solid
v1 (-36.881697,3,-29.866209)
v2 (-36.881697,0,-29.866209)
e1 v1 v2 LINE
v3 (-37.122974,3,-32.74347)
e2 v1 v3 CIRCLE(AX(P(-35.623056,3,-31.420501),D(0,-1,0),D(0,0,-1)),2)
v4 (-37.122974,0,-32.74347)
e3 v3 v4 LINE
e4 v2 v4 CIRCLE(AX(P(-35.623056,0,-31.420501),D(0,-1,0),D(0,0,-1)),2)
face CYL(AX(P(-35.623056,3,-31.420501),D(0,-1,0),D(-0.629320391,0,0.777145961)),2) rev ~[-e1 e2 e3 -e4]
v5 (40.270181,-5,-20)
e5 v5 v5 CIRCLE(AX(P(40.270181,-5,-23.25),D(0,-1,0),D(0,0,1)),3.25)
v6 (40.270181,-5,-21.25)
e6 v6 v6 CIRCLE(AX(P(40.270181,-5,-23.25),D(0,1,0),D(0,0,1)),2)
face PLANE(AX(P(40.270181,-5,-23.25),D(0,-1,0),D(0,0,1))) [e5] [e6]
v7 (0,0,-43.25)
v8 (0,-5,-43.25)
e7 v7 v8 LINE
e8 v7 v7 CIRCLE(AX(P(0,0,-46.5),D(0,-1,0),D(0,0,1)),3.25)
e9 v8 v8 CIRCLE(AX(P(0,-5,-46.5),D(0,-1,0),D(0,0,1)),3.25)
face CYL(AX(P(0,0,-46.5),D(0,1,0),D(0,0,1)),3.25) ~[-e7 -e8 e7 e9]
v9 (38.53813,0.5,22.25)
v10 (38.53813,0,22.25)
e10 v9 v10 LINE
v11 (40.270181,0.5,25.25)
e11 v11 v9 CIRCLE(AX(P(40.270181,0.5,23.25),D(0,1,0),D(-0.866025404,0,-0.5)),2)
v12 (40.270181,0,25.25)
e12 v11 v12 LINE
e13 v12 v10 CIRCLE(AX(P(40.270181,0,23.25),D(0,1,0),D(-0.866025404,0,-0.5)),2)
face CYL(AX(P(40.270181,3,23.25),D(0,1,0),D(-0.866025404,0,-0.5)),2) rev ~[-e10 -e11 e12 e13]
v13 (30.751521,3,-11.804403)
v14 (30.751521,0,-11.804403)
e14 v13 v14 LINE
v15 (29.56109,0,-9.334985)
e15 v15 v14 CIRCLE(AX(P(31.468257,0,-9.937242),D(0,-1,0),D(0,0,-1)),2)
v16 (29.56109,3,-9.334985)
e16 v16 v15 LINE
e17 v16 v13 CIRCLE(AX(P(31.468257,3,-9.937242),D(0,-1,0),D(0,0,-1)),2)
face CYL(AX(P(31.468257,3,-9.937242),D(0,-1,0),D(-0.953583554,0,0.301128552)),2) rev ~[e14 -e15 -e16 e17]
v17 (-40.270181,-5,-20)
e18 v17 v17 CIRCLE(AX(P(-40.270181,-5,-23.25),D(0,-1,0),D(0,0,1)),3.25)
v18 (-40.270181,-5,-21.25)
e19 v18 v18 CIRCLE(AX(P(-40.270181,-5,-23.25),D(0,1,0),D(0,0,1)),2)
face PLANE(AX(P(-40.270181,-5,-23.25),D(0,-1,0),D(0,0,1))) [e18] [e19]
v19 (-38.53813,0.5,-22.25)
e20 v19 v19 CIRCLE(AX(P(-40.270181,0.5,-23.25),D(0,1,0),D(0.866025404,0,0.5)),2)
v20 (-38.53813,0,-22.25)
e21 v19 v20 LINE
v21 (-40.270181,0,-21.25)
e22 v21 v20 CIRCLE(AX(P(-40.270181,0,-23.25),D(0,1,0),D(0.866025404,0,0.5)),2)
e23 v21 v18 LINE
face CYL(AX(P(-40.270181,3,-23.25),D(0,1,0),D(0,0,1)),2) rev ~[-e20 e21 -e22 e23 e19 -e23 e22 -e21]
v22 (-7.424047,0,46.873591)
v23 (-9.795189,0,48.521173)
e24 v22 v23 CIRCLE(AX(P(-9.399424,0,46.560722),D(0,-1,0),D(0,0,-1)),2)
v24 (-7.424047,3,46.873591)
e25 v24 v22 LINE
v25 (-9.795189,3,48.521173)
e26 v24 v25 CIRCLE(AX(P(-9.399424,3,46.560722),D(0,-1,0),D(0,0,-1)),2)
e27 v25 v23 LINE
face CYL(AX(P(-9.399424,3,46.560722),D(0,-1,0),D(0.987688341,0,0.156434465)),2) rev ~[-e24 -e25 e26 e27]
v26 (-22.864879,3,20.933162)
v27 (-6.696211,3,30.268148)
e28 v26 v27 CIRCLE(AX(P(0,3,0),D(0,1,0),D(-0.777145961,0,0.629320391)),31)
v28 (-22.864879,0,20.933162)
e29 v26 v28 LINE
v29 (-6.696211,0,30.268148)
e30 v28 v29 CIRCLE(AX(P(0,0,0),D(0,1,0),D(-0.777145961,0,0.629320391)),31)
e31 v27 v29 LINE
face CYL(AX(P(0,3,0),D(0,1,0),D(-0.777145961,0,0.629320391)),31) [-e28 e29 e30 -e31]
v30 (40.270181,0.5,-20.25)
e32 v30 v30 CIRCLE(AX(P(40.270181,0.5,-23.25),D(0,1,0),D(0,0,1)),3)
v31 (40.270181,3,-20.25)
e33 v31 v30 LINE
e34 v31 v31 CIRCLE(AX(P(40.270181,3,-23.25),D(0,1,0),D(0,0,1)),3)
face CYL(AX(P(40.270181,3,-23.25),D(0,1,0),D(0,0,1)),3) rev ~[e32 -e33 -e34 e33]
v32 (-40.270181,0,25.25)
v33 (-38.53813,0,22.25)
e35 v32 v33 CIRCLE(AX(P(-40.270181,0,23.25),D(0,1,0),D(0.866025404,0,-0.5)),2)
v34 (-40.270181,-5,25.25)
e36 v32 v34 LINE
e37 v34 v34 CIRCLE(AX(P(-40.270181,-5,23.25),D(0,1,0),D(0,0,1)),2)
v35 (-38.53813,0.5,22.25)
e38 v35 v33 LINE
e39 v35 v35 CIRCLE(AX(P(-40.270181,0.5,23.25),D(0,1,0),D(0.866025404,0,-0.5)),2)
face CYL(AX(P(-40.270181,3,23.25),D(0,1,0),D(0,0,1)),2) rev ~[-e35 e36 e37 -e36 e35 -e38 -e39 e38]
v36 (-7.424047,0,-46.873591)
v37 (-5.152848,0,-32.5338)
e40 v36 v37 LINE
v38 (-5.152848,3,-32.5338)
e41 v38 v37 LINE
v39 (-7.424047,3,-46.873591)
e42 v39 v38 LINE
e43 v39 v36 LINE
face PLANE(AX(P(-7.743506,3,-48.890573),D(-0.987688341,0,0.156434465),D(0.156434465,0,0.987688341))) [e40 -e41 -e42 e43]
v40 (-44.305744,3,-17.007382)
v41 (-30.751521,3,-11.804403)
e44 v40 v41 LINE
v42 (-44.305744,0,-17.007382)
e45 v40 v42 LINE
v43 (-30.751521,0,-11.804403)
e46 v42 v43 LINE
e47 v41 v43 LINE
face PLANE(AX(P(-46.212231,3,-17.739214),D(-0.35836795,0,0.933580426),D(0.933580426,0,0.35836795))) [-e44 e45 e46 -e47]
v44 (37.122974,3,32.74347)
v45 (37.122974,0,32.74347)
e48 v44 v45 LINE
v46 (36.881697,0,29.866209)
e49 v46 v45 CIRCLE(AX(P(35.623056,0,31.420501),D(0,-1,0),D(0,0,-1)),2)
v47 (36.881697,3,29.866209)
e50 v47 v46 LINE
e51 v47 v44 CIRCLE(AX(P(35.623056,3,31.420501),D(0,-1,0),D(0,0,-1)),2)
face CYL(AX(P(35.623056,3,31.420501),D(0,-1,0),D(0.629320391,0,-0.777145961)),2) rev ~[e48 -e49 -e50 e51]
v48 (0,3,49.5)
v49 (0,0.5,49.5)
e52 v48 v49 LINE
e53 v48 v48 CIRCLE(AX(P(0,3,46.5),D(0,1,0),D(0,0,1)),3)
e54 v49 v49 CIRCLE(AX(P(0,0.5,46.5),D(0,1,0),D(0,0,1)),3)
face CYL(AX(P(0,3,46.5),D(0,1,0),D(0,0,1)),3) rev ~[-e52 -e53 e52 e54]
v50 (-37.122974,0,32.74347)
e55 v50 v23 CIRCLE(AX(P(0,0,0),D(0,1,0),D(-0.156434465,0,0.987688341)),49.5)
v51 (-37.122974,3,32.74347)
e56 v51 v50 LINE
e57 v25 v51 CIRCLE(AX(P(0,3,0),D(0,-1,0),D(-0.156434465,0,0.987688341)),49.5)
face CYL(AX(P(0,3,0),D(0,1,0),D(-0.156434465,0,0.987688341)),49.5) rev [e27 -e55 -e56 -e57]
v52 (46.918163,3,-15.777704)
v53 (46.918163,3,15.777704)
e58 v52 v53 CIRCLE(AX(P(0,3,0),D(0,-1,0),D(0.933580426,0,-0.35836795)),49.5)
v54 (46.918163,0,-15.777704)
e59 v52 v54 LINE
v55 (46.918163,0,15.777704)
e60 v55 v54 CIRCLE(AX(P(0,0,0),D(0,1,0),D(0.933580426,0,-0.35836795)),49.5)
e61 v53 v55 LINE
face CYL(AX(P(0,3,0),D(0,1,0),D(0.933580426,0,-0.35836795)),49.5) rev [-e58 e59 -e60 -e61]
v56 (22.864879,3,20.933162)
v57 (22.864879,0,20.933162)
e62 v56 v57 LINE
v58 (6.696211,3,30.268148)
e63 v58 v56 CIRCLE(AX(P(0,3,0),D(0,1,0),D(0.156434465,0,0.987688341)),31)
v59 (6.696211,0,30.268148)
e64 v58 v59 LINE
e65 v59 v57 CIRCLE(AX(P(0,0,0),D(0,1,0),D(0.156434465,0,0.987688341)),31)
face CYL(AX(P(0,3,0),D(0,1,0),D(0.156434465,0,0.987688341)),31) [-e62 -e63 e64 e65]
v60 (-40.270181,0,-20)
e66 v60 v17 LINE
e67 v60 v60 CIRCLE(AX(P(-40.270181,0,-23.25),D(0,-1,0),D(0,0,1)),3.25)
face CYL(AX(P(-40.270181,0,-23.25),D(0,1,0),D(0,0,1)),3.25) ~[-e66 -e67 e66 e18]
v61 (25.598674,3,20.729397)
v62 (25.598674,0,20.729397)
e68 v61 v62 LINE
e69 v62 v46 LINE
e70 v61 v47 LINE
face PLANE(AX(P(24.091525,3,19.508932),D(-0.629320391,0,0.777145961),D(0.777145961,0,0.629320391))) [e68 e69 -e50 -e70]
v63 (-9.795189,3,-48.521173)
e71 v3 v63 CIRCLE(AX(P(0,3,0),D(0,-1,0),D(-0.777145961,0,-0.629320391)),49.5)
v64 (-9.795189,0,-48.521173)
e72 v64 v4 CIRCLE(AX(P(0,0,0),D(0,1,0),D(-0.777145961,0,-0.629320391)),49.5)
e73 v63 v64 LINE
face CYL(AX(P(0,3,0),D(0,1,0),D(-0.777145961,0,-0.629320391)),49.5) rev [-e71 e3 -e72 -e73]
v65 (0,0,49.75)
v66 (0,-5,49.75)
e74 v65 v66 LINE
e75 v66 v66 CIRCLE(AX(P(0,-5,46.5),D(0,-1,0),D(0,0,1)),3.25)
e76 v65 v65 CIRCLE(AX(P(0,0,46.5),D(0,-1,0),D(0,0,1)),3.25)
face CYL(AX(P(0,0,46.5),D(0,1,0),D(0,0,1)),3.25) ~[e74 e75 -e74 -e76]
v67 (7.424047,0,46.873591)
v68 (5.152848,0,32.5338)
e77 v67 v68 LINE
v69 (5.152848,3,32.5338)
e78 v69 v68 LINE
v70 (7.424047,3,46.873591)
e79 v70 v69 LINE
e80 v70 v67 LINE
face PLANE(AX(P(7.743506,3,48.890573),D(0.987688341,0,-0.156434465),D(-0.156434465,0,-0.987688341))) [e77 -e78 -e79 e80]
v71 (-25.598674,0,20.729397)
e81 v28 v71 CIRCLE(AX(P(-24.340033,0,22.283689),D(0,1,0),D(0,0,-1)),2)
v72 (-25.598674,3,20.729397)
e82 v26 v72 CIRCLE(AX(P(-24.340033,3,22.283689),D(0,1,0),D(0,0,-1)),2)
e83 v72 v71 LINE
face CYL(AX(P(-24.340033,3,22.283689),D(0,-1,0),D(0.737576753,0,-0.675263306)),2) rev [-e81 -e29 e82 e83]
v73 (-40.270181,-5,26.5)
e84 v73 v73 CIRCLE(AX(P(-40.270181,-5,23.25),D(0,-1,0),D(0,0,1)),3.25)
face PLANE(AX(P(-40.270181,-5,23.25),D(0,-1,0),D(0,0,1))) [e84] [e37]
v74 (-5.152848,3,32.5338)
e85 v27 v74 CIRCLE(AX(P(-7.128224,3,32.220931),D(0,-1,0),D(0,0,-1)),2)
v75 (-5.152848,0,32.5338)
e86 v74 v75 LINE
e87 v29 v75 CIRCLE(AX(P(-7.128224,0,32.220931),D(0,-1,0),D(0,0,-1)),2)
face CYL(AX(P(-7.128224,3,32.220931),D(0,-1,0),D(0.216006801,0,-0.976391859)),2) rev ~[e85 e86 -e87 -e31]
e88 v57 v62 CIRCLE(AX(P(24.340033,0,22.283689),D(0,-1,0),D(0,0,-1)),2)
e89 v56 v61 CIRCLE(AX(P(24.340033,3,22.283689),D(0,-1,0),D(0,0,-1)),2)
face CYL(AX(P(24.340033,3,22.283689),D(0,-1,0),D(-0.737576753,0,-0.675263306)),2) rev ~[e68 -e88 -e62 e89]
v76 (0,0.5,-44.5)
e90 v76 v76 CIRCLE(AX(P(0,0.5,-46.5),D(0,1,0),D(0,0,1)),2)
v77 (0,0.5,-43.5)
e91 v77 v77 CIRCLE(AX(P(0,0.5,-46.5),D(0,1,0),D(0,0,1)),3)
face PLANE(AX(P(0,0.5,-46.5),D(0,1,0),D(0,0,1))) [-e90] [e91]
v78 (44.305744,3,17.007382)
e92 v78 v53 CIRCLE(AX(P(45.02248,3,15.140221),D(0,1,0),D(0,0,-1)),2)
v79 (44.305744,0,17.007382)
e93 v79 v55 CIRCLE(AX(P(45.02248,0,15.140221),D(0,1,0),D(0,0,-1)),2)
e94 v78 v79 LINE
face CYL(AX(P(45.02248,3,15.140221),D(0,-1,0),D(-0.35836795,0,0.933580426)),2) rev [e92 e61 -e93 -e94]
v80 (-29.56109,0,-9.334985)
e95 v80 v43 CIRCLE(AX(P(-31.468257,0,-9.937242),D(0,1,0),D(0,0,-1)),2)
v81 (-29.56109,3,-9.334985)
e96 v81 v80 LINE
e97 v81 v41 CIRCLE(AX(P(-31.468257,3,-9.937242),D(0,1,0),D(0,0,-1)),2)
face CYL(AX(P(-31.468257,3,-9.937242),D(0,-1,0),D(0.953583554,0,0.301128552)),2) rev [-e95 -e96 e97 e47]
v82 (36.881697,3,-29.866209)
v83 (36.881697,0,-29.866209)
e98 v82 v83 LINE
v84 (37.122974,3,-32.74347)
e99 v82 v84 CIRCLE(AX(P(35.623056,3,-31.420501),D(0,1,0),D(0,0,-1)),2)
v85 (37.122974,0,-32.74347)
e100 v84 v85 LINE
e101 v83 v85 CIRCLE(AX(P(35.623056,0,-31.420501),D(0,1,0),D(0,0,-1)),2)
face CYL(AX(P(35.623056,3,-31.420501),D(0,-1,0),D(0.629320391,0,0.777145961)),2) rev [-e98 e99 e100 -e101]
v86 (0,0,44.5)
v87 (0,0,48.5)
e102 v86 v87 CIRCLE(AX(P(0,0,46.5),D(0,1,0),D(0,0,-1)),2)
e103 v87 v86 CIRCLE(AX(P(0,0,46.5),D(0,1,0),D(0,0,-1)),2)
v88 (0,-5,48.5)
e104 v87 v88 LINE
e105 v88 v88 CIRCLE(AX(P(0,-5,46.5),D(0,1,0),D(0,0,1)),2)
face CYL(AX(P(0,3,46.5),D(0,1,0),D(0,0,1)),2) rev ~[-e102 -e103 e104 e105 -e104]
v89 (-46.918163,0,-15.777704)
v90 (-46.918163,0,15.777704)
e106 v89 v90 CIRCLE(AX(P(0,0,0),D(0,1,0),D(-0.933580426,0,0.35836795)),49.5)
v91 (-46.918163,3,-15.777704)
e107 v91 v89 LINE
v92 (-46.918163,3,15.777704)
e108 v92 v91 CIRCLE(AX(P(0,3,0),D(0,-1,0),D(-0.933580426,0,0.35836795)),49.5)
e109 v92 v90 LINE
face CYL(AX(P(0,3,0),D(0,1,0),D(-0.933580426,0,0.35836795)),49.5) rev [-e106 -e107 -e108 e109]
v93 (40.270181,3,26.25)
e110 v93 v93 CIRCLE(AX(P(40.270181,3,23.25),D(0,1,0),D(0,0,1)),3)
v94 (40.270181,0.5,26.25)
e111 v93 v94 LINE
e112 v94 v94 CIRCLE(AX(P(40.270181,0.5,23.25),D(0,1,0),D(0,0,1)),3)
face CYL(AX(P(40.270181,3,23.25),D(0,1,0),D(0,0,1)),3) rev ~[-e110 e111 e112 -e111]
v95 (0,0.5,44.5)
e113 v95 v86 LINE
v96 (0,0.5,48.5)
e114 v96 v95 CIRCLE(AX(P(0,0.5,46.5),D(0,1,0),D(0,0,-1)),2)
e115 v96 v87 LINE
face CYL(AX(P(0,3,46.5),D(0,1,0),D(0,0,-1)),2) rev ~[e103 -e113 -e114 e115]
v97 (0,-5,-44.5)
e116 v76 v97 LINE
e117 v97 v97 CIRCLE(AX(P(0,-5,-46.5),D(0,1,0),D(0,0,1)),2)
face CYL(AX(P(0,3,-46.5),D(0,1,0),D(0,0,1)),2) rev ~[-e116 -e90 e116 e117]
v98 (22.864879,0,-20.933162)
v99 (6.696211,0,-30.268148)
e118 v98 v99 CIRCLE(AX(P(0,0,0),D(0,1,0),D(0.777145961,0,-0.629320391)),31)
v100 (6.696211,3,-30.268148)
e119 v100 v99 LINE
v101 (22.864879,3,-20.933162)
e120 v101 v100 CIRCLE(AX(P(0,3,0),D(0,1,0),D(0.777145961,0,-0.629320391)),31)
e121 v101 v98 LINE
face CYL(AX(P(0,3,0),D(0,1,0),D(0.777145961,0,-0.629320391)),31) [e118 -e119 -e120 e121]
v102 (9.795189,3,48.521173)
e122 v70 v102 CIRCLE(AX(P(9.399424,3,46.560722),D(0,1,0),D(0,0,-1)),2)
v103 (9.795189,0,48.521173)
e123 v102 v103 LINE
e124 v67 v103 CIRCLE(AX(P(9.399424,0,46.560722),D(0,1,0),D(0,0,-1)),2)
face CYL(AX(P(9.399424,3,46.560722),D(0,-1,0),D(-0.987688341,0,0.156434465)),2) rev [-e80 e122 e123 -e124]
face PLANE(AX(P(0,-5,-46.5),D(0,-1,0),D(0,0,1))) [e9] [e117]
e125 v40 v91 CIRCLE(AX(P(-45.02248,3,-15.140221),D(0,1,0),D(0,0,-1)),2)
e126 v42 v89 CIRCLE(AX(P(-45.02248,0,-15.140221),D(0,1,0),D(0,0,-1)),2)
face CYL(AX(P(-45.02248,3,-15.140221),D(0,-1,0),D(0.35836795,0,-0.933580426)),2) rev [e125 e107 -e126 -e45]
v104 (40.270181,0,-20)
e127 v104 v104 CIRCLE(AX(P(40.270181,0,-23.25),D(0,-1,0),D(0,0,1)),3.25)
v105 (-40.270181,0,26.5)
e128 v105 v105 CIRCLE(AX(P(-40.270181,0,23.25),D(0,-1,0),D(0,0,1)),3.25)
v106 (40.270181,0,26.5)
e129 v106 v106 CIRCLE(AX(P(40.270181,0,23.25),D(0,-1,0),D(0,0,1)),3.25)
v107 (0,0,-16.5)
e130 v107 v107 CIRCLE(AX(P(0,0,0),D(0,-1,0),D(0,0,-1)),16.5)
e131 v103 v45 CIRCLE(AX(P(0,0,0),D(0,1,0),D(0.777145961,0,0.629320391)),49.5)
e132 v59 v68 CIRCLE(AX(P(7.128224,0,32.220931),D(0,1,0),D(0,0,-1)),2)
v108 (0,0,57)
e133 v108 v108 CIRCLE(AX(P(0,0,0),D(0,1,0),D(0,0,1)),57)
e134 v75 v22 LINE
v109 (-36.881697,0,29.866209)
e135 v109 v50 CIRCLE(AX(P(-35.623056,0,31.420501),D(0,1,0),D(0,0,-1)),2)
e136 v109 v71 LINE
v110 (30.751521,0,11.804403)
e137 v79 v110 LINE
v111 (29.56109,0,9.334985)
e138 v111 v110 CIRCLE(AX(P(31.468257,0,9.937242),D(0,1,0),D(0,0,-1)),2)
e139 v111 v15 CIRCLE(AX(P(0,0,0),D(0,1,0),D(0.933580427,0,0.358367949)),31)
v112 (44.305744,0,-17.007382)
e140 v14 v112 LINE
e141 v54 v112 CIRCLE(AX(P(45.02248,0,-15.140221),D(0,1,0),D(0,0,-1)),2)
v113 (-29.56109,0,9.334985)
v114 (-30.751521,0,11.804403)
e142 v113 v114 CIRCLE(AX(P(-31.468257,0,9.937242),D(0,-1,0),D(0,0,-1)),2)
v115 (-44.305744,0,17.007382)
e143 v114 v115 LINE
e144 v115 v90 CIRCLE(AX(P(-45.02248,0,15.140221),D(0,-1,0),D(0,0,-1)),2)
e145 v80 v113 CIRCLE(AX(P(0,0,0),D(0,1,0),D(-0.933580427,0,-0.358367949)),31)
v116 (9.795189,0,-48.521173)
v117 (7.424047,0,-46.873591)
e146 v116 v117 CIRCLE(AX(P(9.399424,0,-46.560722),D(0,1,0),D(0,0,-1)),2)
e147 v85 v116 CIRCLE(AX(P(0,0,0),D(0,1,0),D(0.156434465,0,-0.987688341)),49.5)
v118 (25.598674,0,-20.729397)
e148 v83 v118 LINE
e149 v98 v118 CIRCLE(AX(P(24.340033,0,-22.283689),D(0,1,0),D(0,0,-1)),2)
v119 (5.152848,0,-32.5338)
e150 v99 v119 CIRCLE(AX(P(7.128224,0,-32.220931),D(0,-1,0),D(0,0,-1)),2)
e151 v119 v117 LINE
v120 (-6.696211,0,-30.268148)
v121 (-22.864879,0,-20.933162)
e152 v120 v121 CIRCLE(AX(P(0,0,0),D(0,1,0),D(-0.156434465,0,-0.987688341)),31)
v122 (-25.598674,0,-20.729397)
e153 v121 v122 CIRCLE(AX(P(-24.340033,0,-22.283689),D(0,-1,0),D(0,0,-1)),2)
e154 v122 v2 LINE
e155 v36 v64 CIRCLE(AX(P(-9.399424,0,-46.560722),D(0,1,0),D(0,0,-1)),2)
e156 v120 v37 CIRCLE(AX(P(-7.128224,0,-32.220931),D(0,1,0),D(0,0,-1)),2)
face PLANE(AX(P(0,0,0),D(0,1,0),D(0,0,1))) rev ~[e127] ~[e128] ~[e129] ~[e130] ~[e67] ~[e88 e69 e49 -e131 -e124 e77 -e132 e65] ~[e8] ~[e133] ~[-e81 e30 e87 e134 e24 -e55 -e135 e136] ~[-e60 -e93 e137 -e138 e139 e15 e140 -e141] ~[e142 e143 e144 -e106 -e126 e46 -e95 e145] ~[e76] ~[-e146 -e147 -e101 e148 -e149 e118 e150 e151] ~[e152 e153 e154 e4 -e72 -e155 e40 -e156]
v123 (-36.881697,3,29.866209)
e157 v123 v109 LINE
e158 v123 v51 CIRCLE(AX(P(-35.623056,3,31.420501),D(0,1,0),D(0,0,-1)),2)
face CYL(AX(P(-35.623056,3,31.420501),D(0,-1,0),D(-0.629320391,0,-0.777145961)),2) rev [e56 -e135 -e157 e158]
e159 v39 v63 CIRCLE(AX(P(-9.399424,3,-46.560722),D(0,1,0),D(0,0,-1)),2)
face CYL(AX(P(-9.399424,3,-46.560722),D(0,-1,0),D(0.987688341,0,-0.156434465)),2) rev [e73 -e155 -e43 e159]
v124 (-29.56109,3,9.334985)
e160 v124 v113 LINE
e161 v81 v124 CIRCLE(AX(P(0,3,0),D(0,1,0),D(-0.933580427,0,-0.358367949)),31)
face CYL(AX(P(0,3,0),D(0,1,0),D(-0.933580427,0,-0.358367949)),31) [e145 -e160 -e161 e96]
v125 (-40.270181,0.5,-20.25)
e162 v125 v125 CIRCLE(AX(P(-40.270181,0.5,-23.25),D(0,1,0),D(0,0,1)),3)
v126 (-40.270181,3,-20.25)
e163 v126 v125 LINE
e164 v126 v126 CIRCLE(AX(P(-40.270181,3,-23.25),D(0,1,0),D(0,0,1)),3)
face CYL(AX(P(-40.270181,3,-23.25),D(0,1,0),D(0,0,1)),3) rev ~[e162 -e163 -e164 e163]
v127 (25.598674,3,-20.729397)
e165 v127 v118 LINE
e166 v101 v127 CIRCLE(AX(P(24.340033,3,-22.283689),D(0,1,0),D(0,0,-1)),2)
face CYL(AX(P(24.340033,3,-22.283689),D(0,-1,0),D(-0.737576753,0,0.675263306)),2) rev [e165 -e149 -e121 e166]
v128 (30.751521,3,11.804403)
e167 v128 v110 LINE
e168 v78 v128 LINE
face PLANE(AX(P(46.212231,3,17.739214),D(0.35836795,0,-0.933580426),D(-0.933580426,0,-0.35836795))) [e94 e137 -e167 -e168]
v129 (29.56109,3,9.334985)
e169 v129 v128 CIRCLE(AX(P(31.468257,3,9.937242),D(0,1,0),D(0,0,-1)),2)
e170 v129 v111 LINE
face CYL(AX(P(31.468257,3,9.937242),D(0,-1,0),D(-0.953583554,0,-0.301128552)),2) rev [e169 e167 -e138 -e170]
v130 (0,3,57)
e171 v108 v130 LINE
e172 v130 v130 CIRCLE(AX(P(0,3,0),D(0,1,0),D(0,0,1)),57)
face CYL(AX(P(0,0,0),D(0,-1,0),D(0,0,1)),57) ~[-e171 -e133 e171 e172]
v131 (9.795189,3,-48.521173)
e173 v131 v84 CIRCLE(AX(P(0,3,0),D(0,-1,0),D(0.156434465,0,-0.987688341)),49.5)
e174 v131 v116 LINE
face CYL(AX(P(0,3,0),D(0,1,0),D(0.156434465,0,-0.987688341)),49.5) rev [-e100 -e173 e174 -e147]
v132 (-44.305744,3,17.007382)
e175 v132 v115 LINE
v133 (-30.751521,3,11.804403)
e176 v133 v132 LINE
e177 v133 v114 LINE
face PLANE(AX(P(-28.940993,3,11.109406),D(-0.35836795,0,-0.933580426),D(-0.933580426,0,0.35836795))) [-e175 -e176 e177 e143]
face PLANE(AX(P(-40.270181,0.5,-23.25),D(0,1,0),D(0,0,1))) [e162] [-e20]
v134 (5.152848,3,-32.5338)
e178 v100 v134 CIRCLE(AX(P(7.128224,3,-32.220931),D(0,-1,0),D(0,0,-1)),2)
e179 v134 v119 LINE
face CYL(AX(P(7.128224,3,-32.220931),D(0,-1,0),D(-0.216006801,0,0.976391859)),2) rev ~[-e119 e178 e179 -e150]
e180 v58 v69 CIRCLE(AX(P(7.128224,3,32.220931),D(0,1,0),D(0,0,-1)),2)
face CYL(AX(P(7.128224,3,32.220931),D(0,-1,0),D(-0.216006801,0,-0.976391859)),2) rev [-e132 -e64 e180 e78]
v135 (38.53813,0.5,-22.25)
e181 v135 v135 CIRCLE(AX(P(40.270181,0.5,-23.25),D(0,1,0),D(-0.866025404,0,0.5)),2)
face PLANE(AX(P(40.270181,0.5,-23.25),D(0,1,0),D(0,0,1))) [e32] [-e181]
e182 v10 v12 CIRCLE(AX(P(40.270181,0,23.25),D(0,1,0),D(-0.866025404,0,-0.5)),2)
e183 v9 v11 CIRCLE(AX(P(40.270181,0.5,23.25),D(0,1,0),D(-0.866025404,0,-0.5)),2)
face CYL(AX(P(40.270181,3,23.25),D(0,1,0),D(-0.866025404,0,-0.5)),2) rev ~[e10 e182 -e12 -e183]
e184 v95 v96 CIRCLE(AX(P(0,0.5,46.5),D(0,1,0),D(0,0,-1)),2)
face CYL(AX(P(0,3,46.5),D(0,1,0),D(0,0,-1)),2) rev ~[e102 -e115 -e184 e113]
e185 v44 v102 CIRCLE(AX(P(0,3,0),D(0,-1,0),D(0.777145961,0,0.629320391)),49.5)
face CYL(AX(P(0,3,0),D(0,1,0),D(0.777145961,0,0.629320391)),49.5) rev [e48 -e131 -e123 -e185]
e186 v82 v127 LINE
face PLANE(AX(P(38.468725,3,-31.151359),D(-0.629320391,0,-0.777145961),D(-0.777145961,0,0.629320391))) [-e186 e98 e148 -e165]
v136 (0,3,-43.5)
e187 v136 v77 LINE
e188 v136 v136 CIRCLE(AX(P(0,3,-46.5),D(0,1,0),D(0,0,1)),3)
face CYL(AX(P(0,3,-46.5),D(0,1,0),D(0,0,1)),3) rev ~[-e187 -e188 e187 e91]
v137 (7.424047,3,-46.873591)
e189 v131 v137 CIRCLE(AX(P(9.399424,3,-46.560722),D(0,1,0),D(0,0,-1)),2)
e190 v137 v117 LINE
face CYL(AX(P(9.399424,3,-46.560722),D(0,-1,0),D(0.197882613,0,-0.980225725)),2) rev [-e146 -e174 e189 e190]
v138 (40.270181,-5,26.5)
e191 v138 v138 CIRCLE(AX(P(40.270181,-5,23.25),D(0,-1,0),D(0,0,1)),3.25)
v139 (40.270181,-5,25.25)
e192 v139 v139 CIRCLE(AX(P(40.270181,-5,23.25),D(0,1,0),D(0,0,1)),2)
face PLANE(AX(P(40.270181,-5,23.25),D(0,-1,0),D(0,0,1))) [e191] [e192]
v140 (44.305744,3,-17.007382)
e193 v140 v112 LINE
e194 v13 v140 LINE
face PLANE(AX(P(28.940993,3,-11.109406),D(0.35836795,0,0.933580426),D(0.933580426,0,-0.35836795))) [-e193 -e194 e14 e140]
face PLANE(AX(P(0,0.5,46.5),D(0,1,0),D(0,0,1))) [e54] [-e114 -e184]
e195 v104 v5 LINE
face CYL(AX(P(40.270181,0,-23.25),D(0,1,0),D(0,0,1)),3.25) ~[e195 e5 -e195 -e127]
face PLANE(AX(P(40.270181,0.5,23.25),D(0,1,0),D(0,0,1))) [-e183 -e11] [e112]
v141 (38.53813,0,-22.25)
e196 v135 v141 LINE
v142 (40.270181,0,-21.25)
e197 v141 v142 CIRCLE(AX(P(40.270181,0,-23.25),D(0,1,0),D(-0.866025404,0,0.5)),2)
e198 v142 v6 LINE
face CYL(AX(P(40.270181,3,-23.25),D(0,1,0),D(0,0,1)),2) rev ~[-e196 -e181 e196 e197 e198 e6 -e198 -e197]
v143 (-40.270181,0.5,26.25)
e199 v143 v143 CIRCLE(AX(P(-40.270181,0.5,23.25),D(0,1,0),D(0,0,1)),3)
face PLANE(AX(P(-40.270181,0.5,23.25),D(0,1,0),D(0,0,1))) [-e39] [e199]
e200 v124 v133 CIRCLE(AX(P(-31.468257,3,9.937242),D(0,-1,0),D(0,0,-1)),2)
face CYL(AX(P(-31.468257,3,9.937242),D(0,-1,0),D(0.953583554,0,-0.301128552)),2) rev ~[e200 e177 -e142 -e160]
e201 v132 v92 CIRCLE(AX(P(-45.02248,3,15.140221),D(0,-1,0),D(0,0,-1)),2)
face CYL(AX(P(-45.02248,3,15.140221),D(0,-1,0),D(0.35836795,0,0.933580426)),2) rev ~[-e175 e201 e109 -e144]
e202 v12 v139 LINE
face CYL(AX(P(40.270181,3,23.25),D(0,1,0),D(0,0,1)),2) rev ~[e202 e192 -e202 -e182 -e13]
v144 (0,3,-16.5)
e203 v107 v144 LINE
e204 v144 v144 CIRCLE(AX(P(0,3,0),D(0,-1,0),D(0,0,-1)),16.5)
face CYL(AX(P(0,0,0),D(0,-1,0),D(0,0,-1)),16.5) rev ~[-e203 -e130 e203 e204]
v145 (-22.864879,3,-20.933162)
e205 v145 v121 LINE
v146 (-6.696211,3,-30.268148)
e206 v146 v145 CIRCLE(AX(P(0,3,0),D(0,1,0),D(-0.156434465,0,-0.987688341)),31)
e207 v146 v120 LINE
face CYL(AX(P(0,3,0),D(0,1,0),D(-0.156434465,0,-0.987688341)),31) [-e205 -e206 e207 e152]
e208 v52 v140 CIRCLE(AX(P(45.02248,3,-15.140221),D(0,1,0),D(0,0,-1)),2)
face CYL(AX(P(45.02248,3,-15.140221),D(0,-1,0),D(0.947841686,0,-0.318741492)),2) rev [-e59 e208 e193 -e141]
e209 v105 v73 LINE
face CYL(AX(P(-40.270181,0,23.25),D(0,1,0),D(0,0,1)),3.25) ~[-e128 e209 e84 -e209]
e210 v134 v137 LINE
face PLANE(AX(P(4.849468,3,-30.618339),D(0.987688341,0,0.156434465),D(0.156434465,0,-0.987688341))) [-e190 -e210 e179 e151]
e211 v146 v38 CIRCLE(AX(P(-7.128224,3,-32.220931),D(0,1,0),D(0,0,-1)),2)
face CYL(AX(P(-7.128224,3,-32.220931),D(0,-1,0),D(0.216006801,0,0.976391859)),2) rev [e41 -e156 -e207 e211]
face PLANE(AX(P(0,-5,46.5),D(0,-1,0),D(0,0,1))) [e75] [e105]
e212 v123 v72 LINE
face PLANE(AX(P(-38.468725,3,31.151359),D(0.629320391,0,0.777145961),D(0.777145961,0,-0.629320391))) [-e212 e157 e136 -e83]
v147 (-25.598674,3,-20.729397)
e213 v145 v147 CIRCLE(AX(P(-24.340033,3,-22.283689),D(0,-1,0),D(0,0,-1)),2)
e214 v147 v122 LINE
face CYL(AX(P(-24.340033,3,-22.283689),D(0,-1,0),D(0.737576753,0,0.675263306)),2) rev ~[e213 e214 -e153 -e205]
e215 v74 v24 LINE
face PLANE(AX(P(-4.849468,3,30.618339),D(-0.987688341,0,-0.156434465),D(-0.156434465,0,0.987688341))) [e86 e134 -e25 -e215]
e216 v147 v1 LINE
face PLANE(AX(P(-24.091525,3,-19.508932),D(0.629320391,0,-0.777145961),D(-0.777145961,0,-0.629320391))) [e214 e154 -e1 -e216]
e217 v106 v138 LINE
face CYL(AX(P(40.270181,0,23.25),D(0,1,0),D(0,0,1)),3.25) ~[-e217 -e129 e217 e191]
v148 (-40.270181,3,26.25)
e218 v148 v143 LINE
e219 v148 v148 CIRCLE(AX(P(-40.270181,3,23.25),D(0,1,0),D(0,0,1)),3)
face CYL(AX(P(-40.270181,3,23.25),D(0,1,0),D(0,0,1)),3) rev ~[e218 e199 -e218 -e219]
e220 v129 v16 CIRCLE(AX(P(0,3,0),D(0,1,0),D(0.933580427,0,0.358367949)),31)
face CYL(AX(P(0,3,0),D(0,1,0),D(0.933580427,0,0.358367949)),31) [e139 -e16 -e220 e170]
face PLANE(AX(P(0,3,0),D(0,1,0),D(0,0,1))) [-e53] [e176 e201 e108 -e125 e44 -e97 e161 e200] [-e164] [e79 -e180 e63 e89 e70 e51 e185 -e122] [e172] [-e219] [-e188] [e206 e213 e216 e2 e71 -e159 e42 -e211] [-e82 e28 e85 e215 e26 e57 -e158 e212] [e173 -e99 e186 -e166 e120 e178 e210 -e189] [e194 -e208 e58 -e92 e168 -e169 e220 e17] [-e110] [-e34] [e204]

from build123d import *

# Parameters (mm, degrees)
SKETCH1_R                = 57
BOSS_EXTRUDE1_DEPTH      = 3
SKETCH2_R                = 2
CUT_EXTRUDE1_DEPTH       = 81.665977958
CIRPATTERN1_COUNT        = 6
SKETCH5_R                = 3.25
BOSS_EXTRUDE2_DEPTH      = 5
SKETCH4_R                = 16.5
CUT_EXTRUDE3_DEPTH       = 81.765091469
SKETCH8_R                = 2
CUT_EXTRUDE4_DEPTH       = 82.006172604
SKETCH9_R                = 3
CUT_EXTRUDE5_DEPTH       = 2.5
CUT_EXTRUDE6_DEPTH       = 82.006172604
FILLET1_R                = 2
CIRPATTERN2_COUNT        = 6
FILLET1_OF_CIRPATTERN2_R = 2


with BuildPart() as part:
    # Sketch1 → Boss-Extrude1 (new body)
    with BuildSketch(Plane(origin=(0, 0, 0), x_dir=(1, 0, 0), z_dir=(0, 1, 0))):
        with Locations(Location((0, 0, 0), (0, 0, 270))):
            Circle(SKETCH1_R)
    extrude(amount=BOSS_EXTRUDE1_DEPTH)

    # Sketch2 → Cut-Extrude1 (cut, through all)
    with BuildSketch(Plane(origin=(0, 3, 0), x_dir=(1, 0, 0), z_dir=(0, 1, 0))):
        with Locations(Location((0, 46.5, 0), (0, 0, 270))):
            Circle(SKETCH2_R)
    cut_extrude1 = extrude(amount=-CUT_EXTRUDE1_DEPTH, mode=Mode.SUBTRACT)

    # CirPattern1: Cut-Extrude1 ×6 about axis
    cirpattern1_axis = Axis((0, 0, 0), (0, 1, 0))
    for i in range(1, CIRPATTERN1_COUNT):
        add(cut_extrude1.rotate(cirpattern1_axis, i * 360 / CIRPATTERN1_COUNT), mode=Mode.SUBTRACT)

    # Sketch5 → Boss-Extrude2 (add)
    with BuildSketch(Plane.XZ):
        with Locations(Location((0, 46.5, 0), (0, 0, 90))):
            Circle(SKETCH5_R)
        with Locations(Location((40.270181276, 23.25, 0), (0, 0, 90))):
            Circle(SKETCH5_R)
        with Locations(Location((40.270181276, -23.25, 0), (0, 0, 90))):
            Circle(SKETCH5_R)
        with Locations(Location((0, -46.5, 0), (0, 0, 90))):
            Circle(SKETCH5_R)
        with Locations(Location((-40.270181276, -23.25, 0), (0, 0, 90))):
            Circle(SKETCH5_R)
        with Locations(Location((-40.270181276, 23.25, 0), (0, 0, 90))):
            Circle(SKETCH5_R)
    extrude(amount=BOSS_EXTRUDE2_DEPTH)

    # Sketch4 → Cut-Extrude3 (cut, through all)
    with BuildSketch(Plane.XZ):
        with Locations(Location((0, 0, 0), (0, 0, 270))):
            Circle(SKETCH4_R)
    extrude(amount=-CUT_EXTRUDE3_DEPTH, mode=Mode.SUBTRACT)

    # Sketch8 → Cut-Extrude4 (cut, through all)
    with BuildSketch(Plane(origin=(0, 3, 0), x_dir=(1, 0, 0), z_dir=(0, 1, 0))):
        with Locations(Location((-40.270181276, -23.25, 0), (0, 0, 270))):
            Circle(SKETCH8_R)
        with Locations(Location((0, -46.5, 0), (0, 0, 270))):
            Circle(SKETCH8_R)
        with Locations(Location((40.270181276, -23.25, 0), (0, 0, 270))):
            Circle(SKETCH8_R)
        with Locations(Location((40.270181276, 23.25, 0), (0, 0, 270))):
            Circle(SKETCH8_R)
        with Locations(Location((0, 46.5, 0), (0, 0, 270))):
            Circle(SKETCH8_R)
        with Locations(Location((-40.270181276, 23.25, 0), (0, 0, 270))):
            Circle(SKETCH8_R)
    extrude(amount=-CUT_EXTRUDE4_DEPTH, mode=Mode.SUBTRACT)

    # Sketch9 → Cut-Extrude5 (cut)
    with BuildSketch(Plane(origin=(0, 3, 0), x_dir=(1, 0, 0), z_dir=(0, 1, 0))):
        with Locations(Location((-40.270181276, 23.25, 0), (0, 0, 270))):
            Circle(SKETCH9_R)
        with Locations(Location((0, 46.5, 0), (0, 0, 270))):
            Circle(SKETCH9_R)
        with Locations(Location((40.270181276, 23.25, 0), (0, 0, 270))):
            Circle(SKETCH9_R)
        with Locations(Location((40.270181276, -23.25, 0), (0, 0, 270))):
            Circle(SKETCH9_R)
        with Locations(Location((0, -46.5, 0), (0, 0, 270))):
            Circle(SKETCH9_R)
        with Locations(Location((-40.270181276, -23.25, 0), (0, 0, 270))):
            Circle(SKETCH9_R)
    extrude(amount=-CUT_EXTRUDE5_DEPTH, mode=Mode.SUBTRACT)

    # Sketch10 → Cut-Extrude6 (cut, through all)
    with BuildSketch(Plane(origin=(0, 3, 0), x_dir=(1, 0, 0), z_dir=(0, 1, 0))):
        with BuildLine():
            Line((4.849468416, 30.618338558), (7.743506019, 48.890572859))
            ThreePointArc((7.743506019, 48.890572859), (24.75, 42.868257487), (38.468725092, 31.151359357))
            Line((38.468725092, 31.151359357), (24.091524805, 19.508932123))
            ThreePointArc((24.091524805, 19.508932123), (15.5, 26.846787517), (4.849468416, 30.618338558))
        make_face()
    cut_extrude6 = extrude(amount=-CUT_EXTRUDE6_DEPTH, mode=Mode.SUBTRACT)

    # Fillet1
    fillet1_edges = [part.edges().sort_by_distance(p)[0] for p in [
        (24.091524805, 1.5, -19.508932123),
        (4.849468416, 1.5, -30.618338558),
        (7.743506019, 1.5, -48.890572859),
        (38.468725092, 1.5, -31.151359357),
    ]]
    fillet(fillet1_edges, radius=FILLET1_R)

    # CirPattern2: Cut-Extrude6 ×6 about axis
    cirpattern2_axis = Axis((0, 0, 0), (0, 1, 0))
    for i in range(1, CIRPATTERN2_COUNT):
        add(cut_extrude6.rotate(cirpattern2_axis, i * 360 / CIRPATTERN2_COUNT), mode=Mode.SUBTRACT)

    # Fillet1 of CirPattern2
    fillet1_of_cirpattern2_edges = [part.edges().sort_by_distance(p)[0] for p in [
        (-4.849468416, 1.5, -30.618338558),
        (-24.091524805, 1.5, -19.508932123),
        (-38.468725092, 1.5, -31.151359357),
        (-7.743506019, 1.5, -48.890572859),
        (-28.940993221, 1.5, -11.109406436),
        (-28.940993221, 1.5, 11.109406436),
        (-46.212231112, 1.5, 17.739213502),
        (-46.212231112, 1.5, -17.739213502),
        (-24.091524805, 1.5, 19.508932123),
        (-4.849468416, 1.5, 30.618338558),
        (-7.743506019, 1.5, 48.890572859),
        (-38.468725092, 1.5, 31.151359357),
        (4.849468416, 1.5, 30.618338558),
        (24.091524805, 1.5, 19.508932123),
        (38.468725092, 1.5, 31.151359357),
        (7.743506019, 1.5, 48.890572859),
        (28.940993221, 1.5, 11.109406436),
        (28.940993221, 1.5, -11.109406436),
        (46.212231112, 1.5, -17.739213502),
        (46.212231112, 1.5, 17.739213502),
    ]]
    fillet(fillet1_of_cirpattern2_edges, radius=FILLET1_OF_CIRPATTERN2_R)


solid = part.part
